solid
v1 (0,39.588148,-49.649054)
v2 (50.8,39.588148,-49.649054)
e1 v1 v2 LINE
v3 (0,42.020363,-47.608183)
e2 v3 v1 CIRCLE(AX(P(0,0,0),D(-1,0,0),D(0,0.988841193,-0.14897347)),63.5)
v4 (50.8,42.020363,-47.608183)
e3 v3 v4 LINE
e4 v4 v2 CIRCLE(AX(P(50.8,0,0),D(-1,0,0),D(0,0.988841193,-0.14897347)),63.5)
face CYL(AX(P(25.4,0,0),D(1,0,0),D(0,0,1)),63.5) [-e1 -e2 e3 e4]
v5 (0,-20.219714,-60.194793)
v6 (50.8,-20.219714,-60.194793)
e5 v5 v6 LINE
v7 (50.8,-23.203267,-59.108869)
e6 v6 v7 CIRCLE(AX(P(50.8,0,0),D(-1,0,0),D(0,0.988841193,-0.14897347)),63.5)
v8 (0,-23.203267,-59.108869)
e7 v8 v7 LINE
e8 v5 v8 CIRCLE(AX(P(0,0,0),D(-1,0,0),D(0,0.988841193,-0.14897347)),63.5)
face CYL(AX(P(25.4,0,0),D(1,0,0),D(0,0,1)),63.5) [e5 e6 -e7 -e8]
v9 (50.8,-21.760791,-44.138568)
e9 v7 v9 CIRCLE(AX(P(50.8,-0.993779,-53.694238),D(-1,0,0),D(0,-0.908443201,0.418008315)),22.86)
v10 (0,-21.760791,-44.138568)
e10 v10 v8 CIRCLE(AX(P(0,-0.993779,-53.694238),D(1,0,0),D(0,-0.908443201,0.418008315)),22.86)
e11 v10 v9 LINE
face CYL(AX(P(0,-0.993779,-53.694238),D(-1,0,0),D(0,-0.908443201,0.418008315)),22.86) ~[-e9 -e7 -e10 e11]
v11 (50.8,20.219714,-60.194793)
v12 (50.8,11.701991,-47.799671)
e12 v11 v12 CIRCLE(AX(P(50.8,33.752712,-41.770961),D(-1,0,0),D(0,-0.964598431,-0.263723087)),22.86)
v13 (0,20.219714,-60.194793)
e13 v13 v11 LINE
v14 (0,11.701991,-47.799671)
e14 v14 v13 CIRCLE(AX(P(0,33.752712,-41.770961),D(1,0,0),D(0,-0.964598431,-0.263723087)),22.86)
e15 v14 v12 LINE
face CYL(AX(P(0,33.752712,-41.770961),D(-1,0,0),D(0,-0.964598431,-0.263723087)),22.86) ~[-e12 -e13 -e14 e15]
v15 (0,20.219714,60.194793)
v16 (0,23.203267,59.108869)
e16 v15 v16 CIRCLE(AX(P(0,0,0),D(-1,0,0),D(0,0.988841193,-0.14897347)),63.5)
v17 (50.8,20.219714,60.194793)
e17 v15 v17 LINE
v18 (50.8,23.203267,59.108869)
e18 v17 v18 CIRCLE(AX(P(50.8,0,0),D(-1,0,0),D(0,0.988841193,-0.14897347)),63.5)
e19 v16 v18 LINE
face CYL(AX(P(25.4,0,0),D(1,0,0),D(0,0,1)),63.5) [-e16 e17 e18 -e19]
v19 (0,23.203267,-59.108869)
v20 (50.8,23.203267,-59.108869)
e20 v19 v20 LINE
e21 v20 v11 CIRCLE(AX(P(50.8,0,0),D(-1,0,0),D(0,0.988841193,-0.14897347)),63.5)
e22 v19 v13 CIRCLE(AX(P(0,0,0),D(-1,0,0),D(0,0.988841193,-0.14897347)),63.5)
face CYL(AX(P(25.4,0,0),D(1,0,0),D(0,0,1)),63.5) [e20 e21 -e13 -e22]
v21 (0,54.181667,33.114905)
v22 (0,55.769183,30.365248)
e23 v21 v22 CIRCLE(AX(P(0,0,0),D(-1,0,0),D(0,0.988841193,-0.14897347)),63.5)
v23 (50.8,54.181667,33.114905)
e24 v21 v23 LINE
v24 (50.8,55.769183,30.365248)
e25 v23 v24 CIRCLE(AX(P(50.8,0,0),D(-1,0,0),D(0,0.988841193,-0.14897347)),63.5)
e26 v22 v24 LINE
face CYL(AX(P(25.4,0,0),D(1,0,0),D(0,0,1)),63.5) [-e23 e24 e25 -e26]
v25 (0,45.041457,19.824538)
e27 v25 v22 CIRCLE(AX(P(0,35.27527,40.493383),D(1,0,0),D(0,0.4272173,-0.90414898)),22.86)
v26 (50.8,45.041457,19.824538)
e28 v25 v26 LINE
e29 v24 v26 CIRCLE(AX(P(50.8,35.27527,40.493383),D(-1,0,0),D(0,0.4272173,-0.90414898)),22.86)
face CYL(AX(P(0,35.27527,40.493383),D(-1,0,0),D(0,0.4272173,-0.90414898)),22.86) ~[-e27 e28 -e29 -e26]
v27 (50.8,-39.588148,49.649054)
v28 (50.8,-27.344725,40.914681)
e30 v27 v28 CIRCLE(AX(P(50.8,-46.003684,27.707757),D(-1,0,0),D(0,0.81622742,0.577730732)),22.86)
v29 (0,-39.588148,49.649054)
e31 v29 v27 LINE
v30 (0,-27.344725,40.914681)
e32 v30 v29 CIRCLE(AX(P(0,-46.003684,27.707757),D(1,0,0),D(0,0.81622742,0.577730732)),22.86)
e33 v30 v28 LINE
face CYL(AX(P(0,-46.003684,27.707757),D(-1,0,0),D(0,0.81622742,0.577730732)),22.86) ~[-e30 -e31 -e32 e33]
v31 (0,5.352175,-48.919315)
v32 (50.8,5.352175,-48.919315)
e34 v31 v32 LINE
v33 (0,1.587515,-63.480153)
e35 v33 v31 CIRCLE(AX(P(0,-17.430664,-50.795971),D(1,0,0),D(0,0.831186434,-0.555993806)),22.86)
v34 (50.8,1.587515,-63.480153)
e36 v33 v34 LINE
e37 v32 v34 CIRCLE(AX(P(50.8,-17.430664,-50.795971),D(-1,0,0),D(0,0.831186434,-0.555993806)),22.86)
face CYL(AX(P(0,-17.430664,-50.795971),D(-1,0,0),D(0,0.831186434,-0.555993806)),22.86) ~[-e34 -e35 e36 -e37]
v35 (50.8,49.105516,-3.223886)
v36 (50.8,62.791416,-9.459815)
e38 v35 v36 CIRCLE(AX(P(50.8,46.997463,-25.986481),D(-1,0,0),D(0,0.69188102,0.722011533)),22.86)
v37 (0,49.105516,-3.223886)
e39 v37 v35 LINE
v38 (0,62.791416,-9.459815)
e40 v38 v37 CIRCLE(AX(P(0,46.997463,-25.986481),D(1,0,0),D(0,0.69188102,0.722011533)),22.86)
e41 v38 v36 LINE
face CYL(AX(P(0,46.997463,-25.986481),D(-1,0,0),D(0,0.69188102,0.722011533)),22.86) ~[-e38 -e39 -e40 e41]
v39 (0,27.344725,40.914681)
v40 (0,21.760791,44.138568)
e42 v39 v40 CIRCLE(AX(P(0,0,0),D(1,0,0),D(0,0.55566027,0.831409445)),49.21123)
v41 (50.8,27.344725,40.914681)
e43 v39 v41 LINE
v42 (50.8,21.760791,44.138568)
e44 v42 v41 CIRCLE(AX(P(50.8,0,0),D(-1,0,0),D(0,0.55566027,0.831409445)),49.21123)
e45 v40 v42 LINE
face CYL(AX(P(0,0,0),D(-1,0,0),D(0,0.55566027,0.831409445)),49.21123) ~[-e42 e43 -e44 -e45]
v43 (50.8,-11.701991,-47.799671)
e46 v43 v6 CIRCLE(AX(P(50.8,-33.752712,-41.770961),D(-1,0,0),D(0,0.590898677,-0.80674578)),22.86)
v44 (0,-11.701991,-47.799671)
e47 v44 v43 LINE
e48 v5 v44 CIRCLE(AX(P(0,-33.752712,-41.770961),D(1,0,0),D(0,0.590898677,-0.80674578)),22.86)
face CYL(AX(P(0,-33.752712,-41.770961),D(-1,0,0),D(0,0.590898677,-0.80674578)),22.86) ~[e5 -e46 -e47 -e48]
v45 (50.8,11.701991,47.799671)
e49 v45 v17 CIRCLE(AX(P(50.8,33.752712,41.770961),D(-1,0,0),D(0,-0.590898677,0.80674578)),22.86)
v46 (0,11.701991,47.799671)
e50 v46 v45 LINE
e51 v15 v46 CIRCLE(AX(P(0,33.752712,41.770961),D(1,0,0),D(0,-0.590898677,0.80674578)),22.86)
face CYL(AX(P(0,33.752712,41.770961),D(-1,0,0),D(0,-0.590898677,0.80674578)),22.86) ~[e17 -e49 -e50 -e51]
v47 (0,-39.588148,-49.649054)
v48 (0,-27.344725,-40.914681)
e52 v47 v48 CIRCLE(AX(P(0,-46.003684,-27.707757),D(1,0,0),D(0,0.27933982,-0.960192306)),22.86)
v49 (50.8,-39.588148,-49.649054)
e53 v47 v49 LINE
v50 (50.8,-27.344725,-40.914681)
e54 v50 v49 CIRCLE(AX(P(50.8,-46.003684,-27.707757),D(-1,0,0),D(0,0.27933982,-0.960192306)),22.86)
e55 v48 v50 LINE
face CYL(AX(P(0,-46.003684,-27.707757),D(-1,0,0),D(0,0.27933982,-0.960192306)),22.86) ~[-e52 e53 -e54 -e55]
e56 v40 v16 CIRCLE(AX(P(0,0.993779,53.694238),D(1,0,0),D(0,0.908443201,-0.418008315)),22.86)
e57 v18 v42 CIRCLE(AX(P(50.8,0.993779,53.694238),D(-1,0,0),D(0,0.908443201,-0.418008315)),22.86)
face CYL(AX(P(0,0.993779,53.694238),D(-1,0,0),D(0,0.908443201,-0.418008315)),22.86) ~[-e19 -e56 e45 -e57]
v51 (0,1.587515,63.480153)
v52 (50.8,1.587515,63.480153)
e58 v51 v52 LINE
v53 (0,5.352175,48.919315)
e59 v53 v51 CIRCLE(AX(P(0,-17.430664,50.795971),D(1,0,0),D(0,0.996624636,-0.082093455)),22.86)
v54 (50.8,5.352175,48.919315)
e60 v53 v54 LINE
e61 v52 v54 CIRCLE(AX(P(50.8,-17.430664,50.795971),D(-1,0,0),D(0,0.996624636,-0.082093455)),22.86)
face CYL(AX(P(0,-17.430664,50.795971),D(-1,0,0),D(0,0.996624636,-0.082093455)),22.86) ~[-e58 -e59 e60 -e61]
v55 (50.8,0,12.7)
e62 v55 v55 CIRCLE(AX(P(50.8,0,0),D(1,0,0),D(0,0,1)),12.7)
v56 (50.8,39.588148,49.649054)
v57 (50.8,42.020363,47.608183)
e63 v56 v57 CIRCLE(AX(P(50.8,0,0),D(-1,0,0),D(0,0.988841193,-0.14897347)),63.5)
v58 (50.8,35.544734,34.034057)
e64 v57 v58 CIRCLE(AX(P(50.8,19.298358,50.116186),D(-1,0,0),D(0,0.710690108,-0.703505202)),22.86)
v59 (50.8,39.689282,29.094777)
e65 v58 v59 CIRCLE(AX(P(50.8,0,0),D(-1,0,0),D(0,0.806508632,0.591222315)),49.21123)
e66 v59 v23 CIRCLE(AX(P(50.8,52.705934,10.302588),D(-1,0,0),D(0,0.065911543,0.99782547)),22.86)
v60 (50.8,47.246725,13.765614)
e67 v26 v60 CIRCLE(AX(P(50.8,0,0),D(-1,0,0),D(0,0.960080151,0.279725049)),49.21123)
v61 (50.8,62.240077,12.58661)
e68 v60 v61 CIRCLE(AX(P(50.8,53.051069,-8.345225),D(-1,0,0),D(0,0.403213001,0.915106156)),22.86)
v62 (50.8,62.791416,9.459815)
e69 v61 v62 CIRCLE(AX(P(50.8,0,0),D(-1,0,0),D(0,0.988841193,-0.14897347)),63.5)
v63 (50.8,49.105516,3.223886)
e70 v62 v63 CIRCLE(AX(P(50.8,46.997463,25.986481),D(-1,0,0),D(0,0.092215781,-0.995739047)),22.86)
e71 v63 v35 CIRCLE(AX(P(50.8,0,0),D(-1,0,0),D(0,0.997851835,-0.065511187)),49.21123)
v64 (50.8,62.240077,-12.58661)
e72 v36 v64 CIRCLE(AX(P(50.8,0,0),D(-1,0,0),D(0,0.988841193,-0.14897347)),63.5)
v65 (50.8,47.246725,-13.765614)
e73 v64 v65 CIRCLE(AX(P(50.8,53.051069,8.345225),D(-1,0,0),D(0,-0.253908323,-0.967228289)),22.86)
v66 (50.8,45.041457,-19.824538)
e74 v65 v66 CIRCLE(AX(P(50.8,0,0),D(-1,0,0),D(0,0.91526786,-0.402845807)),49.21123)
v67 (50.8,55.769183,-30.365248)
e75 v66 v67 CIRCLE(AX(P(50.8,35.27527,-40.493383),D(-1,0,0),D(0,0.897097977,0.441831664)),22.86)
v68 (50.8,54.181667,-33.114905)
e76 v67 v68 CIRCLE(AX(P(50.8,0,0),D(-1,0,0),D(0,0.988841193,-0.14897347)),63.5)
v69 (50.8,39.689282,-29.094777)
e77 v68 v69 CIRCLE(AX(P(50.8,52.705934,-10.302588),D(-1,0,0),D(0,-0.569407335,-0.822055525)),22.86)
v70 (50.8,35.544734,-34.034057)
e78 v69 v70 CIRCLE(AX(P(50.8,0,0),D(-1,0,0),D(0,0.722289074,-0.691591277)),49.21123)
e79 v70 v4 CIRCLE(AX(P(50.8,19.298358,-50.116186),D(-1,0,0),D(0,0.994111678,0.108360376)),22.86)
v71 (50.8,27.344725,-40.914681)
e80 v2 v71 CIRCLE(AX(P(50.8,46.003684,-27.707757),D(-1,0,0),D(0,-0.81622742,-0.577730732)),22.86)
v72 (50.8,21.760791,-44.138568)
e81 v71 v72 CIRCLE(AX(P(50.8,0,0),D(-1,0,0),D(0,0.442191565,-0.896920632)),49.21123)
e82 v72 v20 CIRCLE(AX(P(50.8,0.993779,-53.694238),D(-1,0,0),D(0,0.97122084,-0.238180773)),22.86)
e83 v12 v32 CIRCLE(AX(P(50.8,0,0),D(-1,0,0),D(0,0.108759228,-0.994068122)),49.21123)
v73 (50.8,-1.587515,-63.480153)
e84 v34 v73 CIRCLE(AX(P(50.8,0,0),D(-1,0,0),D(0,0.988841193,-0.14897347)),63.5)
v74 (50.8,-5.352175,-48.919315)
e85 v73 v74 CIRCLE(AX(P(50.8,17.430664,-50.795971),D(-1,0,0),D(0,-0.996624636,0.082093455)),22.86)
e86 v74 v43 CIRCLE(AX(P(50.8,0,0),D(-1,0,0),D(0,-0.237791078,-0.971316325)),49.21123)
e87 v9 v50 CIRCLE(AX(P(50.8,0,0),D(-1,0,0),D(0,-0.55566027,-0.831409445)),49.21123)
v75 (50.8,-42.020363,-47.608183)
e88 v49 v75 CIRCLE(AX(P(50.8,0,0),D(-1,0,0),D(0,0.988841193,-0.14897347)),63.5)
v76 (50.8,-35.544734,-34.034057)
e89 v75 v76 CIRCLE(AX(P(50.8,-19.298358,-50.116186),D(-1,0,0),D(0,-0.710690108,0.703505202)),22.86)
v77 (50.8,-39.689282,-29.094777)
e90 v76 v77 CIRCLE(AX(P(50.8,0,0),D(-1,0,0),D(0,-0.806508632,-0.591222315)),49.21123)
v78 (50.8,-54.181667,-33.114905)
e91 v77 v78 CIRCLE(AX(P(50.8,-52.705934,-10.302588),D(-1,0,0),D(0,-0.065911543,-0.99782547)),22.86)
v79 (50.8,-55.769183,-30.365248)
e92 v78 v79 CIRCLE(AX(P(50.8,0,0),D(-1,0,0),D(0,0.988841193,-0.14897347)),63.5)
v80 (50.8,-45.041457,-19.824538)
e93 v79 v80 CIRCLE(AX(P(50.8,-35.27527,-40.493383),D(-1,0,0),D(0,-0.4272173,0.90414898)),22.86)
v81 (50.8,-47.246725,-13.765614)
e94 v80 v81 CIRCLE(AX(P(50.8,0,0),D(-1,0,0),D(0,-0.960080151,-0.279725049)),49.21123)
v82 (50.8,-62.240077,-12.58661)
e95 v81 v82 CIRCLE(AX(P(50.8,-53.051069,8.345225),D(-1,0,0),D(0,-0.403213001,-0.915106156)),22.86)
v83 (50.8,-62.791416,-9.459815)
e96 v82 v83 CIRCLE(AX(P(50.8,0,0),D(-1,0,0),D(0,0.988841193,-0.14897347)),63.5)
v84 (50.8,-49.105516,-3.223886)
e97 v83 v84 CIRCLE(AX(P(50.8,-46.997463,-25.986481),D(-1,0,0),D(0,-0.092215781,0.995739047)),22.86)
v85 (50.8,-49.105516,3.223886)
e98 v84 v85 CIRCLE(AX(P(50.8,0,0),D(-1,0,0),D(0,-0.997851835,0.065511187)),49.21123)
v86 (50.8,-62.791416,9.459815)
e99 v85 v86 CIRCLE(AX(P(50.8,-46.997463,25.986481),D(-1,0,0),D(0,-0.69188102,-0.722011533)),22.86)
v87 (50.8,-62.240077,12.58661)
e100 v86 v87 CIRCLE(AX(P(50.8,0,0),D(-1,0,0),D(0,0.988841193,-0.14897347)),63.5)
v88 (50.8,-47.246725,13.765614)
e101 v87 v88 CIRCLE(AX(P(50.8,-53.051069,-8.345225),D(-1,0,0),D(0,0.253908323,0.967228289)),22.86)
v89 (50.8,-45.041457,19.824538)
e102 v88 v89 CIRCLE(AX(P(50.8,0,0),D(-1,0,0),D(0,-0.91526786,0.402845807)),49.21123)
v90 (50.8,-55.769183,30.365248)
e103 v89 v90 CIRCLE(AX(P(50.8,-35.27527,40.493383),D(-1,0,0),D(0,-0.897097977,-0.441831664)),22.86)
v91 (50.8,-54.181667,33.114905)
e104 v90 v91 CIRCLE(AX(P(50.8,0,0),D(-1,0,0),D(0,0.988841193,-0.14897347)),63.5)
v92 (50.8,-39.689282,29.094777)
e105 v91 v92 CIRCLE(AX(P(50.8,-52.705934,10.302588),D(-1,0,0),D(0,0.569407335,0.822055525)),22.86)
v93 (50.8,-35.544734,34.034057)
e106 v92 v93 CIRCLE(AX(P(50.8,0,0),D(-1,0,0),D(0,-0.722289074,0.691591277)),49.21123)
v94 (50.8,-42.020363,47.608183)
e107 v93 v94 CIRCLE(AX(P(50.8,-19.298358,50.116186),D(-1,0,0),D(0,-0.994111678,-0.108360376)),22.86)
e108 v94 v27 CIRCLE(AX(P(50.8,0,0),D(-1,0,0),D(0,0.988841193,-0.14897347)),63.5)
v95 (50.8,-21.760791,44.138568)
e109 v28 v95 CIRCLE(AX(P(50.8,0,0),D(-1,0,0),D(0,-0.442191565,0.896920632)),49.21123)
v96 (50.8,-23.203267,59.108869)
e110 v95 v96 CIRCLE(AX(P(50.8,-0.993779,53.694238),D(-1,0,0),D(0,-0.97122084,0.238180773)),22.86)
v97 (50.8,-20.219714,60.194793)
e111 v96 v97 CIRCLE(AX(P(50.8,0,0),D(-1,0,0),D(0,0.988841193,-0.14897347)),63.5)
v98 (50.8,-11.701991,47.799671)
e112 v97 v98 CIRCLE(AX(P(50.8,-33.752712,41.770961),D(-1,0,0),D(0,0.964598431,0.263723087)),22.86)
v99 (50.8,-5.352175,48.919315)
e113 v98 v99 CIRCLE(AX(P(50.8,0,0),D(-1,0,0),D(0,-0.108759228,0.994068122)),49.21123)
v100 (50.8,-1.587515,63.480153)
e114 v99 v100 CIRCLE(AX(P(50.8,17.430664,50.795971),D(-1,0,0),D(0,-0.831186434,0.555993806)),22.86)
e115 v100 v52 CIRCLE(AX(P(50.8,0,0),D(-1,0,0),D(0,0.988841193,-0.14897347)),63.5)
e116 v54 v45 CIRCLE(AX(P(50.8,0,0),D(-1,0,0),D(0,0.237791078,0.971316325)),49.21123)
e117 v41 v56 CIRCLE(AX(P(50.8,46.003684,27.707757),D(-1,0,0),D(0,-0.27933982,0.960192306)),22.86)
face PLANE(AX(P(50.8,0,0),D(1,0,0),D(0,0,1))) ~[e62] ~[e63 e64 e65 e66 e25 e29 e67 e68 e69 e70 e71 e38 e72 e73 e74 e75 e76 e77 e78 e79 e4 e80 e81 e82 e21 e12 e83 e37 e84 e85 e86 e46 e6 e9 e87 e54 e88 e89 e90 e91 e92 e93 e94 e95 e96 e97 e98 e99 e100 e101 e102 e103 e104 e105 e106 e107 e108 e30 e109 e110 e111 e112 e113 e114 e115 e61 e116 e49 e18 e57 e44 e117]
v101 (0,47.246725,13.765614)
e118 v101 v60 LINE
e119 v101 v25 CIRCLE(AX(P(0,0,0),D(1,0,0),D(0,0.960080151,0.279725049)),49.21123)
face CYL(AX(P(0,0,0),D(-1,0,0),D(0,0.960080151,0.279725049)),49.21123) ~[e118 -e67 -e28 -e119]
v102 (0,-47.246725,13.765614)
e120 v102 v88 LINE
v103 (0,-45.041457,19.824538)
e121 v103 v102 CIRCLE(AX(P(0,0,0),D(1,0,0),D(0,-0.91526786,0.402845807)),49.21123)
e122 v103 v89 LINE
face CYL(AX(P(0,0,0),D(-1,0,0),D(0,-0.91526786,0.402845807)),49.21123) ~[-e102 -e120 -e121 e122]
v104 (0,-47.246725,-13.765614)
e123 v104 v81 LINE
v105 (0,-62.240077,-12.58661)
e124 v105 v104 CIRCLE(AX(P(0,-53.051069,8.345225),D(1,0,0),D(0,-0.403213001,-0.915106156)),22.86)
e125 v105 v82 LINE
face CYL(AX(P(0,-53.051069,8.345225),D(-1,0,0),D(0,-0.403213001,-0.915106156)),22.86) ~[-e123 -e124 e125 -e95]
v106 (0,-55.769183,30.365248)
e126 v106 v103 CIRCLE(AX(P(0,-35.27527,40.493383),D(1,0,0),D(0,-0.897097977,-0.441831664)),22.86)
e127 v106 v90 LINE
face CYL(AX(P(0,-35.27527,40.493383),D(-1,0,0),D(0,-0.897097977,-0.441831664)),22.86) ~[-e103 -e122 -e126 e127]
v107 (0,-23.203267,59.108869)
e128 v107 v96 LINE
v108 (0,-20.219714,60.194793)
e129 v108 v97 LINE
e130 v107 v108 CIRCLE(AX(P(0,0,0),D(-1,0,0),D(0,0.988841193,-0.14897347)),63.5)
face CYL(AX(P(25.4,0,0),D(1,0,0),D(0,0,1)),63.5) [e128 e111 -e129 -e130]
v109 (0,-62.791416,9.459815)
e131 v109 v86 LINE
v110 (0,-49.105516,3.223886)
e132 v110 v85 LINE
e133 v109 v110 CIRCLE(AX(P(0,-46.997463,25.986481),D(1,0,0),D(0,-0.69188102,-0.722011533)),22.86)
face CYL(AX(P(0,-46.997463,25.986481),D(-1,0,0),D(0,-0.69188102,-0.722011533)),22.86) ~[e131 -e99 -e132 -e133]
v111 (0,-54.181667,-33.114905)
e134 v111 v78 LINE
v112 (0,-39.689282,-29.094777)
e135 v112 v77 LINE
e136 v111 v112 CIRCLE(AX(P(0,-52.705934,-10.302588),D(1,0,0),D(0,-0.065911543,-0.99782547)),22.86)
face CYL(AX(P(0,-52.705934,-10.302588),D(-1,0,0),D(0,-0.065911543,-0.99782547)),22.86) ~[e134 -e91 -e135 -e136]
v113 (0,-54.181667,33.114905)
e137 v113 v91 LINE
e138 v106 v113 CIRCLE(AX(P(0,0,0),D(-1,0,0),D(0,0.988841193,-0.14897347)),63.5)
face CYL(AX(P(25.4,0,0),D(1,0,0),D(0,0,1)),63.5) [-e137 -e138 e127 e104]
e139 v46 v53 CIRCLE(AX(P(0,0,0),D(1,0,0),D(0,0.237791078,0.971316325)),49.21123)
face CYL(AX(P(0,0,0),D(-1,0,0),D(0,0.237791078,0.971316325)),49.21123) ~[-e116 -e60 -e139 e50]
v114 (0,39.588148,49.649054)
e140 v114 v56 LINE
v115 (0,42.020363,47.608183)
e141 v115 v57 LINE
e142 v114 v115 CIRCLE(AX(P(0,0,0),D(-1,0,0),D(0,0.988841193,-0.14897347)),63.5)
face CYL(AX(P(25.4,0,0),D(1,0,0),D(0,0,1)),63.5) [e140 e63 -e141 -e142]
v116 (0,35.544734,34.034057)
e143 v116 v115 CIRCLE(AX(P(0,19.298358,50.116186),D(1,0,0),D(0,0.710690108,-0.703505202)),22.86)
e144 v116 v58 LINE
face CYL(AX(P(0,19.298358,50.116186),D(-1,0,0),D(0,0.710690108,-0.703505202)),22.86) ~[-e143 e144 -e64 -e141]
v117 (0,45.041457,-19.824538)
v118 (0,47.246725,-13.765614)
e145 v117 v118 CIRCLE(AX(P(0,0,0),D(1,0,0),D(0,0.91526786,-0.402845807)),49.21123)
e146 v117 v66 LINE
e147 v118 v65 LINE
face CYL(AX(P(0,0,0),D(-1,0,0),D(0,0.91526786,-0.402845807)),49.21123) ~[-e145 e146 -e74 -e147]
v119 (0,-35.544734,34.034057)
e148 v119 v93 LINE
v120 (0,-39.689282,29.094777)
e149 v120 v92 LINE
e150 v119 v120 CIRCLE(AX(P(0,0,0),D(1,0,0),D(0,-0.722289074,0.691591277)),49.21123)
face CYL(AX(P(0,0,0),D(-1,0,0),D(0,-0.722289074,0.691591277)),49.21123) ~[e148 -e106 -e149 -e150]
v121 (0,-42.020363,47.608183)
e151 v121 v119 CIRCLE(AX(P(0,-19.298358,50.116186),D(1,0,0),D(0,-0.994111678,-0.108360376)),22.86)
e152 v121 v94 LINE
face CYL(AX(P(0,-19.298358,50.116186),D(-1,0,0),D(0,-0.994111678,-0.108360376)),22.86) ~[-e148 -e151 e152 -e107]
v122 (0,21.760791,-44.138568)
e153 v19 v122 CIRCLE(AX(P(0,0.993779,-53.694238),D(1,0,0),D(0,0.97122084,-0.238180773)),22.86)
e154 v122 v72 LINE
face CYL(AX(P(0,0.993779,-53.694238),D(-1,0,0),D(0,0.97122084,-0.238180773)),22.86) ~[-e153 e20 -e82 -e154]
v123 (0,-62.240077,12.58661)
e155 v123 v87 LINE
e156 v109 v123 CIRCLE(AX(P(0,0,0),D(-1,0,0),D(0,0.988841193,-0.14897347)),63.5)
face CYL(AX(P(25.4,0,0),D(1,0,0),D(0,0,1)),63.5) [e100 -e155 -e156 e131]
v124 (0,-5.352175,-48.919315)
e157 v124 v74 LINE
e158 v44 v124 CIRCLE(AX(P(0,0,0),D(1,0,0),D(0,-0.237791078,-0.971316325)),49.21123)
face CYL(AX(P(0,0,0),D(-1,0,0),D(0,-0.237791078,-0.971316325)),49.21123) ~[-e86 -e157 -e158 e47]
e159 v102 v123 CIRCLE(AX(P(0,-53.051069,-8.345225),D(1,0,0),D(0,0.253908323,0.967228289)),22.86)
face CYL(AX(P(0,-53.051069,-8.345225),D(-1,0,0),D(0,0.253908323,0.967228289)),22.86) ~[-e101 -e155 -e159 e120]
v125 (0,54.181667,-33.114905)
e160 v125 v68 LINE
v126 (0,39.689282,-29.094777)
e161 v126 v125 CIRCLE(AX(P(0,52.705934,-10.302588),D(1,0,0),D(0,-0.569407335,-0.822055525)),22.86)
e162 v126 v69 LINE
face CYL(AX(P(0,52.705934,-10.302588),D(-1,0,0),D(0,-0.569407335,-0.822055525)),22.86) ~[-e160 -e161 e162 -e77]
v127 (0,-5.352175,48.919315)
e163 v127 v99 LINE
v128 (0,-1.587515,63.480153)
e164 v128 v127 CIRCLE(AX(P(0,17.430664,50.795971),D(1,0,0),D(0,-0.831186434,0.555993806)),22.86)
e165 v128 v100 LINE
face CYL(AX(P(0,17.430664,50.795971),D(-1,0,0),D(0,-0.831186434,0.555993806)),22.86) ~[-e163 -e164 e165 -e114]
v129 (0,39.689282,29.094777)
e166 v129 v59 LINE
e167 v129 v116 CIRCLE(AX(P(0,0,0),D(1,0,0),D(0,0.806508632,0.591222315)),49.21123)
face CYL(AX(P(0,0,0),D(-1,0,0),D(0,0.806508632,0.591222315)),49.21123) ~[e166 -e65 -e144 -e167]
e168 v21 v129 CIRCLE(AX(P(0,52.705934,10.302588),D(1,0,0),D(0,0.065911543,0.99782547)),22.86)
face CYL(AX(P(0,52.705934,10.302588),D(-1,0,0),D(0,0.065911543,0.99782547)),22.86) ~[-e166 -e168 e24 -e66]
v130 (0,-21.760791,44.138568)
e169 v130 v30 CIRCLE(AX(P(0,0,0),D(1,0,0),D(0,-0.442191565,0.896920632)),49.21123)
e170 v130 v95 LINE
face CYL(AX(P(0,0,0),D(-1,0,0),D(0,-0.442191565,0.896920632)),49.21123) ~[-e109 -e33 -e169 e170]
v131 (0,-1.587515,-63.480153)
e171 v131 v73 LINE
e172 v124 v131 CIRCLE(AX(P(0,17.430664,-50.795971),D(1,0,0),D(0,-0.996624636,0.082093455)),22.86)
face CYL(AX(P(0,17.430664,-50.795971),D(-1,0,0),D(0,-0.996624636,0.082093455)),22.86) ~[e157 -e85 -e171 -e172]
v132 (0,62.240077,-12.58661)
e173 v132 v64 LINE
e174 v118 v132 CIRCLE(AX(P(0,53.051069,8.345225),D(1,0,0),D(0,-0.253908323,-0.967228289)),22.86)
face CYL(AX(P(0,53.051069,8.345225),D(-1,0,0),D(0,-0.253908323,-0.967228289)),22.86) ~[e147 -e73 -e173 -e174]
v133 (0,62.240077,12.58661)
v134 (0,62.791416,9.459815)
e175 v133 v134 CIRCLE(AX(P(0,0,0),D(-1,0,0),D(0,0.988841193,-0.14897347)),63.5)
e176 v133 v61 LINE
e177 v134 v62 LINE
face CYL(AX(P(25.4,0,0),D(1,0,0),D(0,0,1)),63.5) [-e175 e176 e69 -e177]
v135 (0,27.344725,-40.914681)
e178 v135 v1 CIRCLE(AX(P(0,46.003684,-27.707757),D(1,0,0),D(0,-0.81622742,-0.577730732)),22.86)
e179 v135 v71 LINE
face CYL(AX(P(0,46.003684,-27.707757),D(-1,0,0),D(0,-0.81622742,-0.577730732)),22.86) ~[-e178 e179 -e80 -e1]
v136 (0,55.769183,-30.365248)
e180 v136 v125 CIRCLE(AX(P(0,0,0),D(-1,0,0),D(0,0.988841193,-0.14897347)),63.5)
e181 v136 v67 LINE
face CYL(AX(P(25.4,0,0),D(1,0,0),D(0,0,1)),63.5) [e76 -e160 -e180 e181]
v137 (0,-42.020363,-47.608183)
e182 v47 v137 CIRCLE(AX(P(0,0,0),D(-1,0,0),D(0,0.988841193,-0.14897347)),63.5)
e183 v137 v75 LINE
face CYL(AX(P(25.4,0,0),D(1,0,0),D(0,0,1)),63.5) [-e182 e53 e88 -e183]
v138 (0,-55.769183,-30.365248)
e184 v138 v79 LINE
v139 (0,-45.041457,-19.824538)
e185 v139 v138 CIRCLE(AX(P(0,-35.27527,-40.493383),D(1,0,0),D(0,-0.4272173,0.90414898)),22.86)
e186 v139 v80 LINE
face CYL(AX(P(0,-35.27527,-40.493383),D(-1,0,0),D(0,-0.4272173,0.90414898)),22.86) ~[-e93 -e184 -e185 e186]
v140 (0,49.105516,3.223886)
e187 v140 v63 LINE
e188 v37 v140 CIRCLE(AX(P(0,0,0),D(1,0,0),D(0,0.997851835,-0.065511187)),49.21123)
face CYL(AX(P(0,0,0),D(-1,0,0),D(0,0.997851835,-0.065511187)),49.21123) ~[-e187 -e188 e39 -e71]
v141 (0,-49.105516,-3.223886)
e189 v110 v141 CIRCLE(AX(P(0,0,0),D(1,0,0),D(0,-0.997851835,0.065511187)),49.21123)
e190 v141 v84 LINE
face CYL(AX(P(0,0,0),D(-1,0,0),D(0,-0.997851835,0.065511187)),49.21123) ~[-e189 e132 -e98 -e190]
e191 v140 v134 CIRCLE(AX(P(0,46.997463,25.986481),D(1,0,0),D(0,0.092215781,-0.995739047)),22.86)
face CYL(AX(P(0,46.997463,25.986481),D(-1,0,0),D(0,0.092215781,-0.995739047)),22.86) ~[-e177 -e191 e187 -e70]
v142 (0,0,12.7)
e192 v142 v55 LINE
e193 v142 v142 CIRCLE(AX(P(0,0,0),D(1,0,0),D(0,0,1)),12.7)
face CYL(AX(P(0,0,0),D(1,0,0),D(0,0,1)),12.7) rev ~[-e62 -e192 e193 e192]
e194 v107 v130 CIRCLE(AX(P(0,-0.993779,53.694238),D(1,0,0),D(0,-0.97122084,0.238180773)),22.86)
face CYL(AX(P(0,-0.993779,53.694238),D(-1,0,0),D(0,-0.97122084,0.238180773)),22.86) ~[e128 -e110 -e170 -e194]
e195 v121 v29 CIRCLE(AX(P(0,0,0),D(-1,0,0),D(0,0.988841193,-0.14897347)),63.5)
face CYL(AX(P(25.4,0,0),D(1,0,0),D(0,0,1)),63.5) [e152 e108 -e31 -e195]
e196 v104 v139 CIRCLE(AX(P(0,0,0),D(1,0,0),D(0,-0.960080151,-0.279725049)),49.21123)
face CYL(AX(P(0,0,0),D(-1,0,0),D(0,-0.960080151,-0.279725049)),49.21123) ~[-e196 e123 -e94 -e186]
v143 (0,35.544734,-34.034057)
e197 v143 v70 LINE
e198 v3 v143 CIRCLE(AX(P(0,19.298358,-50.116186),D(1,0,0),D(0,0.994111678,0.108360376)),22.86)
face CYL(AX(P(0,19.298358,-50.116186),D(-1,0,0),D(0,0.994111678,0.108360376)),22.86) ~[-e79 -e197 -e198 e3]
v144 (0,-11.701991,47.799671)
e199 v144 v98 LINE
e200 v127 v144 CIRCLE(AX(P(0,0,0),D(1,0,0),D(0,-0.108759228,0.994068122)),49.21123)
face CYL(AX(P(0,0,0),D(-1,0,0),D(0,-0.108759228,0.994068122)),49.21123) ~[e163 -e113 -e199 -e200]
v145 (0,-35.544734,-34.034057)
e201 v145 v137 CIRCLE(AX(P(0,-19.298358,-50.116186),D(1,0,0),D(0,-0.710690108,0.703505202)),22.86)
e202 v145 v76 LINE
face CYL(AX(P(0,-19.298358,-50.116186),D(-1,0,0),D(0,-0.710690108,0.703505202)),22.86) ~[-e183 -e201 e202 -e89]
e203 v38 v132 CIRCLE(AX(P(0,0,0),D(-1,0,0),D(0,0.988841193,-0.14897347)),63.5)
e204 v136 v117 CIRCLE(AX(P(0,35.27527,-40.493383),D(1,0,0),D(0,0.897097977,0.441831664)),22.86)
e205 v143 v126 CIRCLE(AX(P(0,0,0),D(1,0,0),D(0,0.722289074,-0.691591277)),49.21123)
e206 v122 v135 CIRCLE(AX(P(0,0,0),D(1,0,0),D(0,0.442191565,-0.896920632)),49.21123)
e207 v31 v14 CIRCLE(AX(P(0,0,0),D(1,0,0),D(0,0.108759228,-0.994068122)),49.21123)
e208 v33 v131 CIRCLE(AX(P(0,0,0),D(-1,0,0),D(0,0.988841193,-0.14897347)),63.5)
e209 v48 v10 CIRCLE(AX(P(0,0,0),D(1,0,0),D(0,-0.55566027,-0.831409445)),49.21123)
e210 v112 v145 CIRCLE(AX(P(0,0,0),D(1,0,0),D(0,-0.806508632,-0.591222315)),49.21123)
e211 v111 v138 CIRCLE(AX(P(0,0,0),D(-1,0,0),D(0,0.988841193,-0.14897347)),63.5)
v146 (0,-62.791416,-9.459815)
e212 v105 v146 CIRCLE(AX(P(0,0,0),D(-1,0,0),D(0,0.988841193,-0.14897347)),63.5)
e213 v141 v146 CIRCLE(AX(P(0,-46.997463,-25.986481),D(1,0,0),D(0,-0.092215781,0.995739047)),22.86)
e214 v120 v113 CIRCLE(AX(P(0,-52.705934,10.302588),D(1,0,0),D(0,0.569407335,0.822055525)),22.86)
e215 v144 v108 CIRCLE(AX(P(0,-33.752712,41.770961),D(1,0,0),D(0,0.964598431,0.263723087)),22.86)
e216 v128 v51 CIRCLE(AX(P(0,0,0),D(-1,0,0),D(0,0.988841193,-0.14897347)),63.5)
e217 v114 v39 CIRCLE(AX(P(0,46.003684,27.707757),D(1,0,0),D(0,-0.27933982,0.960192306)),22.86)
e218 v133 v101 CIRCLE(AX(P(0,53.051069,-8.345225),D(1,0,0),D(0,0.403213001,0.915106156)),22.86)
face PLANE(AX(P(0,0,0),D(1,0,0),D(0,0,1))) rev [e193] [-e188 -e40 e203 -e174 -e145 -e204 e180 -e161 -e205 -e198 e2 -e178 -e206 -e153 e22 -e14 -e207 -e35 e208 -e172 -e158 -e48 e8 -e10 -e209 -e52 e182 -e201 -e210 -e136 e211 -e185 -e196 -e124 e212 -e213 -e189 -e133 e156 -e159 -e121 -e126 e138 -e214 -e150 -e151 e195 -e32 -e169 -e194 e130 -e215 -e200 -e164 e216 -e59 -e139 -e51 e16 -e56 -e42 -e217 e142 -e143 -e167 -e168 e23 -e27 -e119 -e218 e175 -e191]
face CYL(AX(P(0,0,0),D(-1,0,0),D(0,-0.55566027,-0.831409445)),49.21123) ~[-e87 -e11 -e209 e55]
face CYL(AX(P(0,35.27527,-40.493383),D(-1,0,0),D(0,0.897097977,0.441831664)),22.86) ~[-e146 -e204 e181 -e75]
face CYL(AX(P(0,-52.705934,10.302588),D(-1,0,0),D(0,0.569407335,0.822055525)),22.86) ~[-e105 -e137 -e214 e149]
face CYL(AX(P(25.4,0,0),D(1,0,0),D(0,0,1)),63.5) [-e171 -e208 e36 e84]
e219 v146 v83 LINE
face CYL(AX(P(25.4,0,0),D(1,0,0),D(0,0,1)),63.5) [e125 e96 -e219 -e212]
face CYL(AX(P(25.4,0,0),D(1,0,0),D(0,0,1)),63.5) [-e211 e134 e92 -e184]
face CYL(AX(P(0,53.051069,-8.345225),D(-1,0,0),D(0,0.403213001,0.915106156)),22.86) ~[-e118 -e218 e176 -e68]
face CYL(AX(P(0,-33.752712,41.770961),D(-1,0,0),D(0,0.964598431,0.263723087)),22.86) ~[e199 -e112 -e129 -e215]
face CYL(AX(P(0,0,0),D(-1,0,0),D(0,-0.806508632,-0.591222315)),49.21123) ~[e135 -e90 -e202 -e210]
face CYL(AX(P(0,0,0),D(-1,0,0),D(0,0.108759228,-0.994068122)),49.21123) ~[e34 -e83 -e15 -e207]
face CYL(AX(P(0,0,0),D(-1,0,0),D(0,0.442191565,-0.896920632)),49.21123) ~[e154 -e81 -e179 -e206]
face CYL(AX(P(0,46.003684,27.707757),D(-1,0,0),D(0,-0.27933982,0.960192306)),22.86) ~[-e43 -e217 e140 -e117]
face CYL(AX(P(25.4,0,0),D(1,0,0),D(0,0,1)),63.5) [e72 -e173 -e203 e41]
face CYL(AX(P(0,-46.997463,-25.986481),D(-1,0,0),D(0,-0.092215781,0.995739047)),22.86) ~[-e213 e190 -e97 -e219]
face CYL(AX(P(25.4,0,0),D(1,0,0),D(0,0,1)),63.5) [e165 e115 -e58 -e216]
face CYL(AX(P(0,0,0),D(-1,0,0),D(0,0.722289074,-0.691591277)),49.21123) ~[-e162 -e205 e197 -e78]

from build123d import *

# Parameters (mm, degrees)
BASPROSKE_W     = 50.8
BASPROSKE_H     = 63.5
TOOTHCUT_DEPTH  = 104.175287739
TEETHCUTS_COUNT = 18
BORSKE_R        = 12.7
BORE_DEPTH      = 50.8000508


with BuildPart() as part:
    # BasProSke → Base-Revolve (revolve)
    with BuildSketch(Plane(origin=(0, 0, 0), x_dir=(1, 0, 0), z_dir=(0, 1, 0)), mode=Mode.PRIVATE) as base_revolve_sk:
        with Locations((25.4, 31.75)):
            Rectangle(BASPROSKE_W, BASPROSKE_H)
    revolve(base_revolve_sk.sketch.rotate(Axis((-10, 0, 0), (1, 0, 0)), 180), axis=Axis((-10, 0, 0), (1, 0, 0)))

    # TooCutSke → ToothCut (cut, through all)
    with BuildSketch(Plane(origin=(0, 0, 0), x_dir=(0, 0, -1), z_dir=(1, 0, 0))):
        with BuildLine():
            ThreePointArc((3.223886101, 49.105516152), (0, 49.21123), (-3.223886101, 49.105516152))
            ThreePointArc((-3.223886101, 49.105516152), (-5.190584502, 56.49010796), (-9.481297068, 62.813863526))
            ThreePointArc((-9.481297068, 62.813863526), (0, 63.5254), (9.481297068, 62.813863526))
            ThreePointArc((9.481297068, 62.813863526), (5.190584502, 56.49010796), (3.223886101, 49.105516152))
        make_face()
    toothcut = extrude(amount=TOOTHCUT_DEPTH, mode=Mode.SUBTRACT)

    # TeethCuts: ToothCut ×18 about axis
    teethcuts_axis = Axis((0, 0, 0), (1, 0, 0))
    for i in range(1, TEETHCUTS_COUNT):
        add(toothcut.rotate(teethcuts_axis, i * 360 / TEETHCUTS_COUNT), mode=Mode.SUBTRACT)

    # BorSke → Bore (cut, symmetric)
    with BuildSketch(Plane(origin=(0, 0, 0), x_dir=(0, 0, -1), z_dir=(1, 0, 0))):
        with Locations(Location((0, 0, 0), (0, 0, 180))):
            Circle(BORSKE_R)
    extrude(amount=BORE_DEPTH, both=True, mode=Mode.SUBTRACT)


solid = part.part
